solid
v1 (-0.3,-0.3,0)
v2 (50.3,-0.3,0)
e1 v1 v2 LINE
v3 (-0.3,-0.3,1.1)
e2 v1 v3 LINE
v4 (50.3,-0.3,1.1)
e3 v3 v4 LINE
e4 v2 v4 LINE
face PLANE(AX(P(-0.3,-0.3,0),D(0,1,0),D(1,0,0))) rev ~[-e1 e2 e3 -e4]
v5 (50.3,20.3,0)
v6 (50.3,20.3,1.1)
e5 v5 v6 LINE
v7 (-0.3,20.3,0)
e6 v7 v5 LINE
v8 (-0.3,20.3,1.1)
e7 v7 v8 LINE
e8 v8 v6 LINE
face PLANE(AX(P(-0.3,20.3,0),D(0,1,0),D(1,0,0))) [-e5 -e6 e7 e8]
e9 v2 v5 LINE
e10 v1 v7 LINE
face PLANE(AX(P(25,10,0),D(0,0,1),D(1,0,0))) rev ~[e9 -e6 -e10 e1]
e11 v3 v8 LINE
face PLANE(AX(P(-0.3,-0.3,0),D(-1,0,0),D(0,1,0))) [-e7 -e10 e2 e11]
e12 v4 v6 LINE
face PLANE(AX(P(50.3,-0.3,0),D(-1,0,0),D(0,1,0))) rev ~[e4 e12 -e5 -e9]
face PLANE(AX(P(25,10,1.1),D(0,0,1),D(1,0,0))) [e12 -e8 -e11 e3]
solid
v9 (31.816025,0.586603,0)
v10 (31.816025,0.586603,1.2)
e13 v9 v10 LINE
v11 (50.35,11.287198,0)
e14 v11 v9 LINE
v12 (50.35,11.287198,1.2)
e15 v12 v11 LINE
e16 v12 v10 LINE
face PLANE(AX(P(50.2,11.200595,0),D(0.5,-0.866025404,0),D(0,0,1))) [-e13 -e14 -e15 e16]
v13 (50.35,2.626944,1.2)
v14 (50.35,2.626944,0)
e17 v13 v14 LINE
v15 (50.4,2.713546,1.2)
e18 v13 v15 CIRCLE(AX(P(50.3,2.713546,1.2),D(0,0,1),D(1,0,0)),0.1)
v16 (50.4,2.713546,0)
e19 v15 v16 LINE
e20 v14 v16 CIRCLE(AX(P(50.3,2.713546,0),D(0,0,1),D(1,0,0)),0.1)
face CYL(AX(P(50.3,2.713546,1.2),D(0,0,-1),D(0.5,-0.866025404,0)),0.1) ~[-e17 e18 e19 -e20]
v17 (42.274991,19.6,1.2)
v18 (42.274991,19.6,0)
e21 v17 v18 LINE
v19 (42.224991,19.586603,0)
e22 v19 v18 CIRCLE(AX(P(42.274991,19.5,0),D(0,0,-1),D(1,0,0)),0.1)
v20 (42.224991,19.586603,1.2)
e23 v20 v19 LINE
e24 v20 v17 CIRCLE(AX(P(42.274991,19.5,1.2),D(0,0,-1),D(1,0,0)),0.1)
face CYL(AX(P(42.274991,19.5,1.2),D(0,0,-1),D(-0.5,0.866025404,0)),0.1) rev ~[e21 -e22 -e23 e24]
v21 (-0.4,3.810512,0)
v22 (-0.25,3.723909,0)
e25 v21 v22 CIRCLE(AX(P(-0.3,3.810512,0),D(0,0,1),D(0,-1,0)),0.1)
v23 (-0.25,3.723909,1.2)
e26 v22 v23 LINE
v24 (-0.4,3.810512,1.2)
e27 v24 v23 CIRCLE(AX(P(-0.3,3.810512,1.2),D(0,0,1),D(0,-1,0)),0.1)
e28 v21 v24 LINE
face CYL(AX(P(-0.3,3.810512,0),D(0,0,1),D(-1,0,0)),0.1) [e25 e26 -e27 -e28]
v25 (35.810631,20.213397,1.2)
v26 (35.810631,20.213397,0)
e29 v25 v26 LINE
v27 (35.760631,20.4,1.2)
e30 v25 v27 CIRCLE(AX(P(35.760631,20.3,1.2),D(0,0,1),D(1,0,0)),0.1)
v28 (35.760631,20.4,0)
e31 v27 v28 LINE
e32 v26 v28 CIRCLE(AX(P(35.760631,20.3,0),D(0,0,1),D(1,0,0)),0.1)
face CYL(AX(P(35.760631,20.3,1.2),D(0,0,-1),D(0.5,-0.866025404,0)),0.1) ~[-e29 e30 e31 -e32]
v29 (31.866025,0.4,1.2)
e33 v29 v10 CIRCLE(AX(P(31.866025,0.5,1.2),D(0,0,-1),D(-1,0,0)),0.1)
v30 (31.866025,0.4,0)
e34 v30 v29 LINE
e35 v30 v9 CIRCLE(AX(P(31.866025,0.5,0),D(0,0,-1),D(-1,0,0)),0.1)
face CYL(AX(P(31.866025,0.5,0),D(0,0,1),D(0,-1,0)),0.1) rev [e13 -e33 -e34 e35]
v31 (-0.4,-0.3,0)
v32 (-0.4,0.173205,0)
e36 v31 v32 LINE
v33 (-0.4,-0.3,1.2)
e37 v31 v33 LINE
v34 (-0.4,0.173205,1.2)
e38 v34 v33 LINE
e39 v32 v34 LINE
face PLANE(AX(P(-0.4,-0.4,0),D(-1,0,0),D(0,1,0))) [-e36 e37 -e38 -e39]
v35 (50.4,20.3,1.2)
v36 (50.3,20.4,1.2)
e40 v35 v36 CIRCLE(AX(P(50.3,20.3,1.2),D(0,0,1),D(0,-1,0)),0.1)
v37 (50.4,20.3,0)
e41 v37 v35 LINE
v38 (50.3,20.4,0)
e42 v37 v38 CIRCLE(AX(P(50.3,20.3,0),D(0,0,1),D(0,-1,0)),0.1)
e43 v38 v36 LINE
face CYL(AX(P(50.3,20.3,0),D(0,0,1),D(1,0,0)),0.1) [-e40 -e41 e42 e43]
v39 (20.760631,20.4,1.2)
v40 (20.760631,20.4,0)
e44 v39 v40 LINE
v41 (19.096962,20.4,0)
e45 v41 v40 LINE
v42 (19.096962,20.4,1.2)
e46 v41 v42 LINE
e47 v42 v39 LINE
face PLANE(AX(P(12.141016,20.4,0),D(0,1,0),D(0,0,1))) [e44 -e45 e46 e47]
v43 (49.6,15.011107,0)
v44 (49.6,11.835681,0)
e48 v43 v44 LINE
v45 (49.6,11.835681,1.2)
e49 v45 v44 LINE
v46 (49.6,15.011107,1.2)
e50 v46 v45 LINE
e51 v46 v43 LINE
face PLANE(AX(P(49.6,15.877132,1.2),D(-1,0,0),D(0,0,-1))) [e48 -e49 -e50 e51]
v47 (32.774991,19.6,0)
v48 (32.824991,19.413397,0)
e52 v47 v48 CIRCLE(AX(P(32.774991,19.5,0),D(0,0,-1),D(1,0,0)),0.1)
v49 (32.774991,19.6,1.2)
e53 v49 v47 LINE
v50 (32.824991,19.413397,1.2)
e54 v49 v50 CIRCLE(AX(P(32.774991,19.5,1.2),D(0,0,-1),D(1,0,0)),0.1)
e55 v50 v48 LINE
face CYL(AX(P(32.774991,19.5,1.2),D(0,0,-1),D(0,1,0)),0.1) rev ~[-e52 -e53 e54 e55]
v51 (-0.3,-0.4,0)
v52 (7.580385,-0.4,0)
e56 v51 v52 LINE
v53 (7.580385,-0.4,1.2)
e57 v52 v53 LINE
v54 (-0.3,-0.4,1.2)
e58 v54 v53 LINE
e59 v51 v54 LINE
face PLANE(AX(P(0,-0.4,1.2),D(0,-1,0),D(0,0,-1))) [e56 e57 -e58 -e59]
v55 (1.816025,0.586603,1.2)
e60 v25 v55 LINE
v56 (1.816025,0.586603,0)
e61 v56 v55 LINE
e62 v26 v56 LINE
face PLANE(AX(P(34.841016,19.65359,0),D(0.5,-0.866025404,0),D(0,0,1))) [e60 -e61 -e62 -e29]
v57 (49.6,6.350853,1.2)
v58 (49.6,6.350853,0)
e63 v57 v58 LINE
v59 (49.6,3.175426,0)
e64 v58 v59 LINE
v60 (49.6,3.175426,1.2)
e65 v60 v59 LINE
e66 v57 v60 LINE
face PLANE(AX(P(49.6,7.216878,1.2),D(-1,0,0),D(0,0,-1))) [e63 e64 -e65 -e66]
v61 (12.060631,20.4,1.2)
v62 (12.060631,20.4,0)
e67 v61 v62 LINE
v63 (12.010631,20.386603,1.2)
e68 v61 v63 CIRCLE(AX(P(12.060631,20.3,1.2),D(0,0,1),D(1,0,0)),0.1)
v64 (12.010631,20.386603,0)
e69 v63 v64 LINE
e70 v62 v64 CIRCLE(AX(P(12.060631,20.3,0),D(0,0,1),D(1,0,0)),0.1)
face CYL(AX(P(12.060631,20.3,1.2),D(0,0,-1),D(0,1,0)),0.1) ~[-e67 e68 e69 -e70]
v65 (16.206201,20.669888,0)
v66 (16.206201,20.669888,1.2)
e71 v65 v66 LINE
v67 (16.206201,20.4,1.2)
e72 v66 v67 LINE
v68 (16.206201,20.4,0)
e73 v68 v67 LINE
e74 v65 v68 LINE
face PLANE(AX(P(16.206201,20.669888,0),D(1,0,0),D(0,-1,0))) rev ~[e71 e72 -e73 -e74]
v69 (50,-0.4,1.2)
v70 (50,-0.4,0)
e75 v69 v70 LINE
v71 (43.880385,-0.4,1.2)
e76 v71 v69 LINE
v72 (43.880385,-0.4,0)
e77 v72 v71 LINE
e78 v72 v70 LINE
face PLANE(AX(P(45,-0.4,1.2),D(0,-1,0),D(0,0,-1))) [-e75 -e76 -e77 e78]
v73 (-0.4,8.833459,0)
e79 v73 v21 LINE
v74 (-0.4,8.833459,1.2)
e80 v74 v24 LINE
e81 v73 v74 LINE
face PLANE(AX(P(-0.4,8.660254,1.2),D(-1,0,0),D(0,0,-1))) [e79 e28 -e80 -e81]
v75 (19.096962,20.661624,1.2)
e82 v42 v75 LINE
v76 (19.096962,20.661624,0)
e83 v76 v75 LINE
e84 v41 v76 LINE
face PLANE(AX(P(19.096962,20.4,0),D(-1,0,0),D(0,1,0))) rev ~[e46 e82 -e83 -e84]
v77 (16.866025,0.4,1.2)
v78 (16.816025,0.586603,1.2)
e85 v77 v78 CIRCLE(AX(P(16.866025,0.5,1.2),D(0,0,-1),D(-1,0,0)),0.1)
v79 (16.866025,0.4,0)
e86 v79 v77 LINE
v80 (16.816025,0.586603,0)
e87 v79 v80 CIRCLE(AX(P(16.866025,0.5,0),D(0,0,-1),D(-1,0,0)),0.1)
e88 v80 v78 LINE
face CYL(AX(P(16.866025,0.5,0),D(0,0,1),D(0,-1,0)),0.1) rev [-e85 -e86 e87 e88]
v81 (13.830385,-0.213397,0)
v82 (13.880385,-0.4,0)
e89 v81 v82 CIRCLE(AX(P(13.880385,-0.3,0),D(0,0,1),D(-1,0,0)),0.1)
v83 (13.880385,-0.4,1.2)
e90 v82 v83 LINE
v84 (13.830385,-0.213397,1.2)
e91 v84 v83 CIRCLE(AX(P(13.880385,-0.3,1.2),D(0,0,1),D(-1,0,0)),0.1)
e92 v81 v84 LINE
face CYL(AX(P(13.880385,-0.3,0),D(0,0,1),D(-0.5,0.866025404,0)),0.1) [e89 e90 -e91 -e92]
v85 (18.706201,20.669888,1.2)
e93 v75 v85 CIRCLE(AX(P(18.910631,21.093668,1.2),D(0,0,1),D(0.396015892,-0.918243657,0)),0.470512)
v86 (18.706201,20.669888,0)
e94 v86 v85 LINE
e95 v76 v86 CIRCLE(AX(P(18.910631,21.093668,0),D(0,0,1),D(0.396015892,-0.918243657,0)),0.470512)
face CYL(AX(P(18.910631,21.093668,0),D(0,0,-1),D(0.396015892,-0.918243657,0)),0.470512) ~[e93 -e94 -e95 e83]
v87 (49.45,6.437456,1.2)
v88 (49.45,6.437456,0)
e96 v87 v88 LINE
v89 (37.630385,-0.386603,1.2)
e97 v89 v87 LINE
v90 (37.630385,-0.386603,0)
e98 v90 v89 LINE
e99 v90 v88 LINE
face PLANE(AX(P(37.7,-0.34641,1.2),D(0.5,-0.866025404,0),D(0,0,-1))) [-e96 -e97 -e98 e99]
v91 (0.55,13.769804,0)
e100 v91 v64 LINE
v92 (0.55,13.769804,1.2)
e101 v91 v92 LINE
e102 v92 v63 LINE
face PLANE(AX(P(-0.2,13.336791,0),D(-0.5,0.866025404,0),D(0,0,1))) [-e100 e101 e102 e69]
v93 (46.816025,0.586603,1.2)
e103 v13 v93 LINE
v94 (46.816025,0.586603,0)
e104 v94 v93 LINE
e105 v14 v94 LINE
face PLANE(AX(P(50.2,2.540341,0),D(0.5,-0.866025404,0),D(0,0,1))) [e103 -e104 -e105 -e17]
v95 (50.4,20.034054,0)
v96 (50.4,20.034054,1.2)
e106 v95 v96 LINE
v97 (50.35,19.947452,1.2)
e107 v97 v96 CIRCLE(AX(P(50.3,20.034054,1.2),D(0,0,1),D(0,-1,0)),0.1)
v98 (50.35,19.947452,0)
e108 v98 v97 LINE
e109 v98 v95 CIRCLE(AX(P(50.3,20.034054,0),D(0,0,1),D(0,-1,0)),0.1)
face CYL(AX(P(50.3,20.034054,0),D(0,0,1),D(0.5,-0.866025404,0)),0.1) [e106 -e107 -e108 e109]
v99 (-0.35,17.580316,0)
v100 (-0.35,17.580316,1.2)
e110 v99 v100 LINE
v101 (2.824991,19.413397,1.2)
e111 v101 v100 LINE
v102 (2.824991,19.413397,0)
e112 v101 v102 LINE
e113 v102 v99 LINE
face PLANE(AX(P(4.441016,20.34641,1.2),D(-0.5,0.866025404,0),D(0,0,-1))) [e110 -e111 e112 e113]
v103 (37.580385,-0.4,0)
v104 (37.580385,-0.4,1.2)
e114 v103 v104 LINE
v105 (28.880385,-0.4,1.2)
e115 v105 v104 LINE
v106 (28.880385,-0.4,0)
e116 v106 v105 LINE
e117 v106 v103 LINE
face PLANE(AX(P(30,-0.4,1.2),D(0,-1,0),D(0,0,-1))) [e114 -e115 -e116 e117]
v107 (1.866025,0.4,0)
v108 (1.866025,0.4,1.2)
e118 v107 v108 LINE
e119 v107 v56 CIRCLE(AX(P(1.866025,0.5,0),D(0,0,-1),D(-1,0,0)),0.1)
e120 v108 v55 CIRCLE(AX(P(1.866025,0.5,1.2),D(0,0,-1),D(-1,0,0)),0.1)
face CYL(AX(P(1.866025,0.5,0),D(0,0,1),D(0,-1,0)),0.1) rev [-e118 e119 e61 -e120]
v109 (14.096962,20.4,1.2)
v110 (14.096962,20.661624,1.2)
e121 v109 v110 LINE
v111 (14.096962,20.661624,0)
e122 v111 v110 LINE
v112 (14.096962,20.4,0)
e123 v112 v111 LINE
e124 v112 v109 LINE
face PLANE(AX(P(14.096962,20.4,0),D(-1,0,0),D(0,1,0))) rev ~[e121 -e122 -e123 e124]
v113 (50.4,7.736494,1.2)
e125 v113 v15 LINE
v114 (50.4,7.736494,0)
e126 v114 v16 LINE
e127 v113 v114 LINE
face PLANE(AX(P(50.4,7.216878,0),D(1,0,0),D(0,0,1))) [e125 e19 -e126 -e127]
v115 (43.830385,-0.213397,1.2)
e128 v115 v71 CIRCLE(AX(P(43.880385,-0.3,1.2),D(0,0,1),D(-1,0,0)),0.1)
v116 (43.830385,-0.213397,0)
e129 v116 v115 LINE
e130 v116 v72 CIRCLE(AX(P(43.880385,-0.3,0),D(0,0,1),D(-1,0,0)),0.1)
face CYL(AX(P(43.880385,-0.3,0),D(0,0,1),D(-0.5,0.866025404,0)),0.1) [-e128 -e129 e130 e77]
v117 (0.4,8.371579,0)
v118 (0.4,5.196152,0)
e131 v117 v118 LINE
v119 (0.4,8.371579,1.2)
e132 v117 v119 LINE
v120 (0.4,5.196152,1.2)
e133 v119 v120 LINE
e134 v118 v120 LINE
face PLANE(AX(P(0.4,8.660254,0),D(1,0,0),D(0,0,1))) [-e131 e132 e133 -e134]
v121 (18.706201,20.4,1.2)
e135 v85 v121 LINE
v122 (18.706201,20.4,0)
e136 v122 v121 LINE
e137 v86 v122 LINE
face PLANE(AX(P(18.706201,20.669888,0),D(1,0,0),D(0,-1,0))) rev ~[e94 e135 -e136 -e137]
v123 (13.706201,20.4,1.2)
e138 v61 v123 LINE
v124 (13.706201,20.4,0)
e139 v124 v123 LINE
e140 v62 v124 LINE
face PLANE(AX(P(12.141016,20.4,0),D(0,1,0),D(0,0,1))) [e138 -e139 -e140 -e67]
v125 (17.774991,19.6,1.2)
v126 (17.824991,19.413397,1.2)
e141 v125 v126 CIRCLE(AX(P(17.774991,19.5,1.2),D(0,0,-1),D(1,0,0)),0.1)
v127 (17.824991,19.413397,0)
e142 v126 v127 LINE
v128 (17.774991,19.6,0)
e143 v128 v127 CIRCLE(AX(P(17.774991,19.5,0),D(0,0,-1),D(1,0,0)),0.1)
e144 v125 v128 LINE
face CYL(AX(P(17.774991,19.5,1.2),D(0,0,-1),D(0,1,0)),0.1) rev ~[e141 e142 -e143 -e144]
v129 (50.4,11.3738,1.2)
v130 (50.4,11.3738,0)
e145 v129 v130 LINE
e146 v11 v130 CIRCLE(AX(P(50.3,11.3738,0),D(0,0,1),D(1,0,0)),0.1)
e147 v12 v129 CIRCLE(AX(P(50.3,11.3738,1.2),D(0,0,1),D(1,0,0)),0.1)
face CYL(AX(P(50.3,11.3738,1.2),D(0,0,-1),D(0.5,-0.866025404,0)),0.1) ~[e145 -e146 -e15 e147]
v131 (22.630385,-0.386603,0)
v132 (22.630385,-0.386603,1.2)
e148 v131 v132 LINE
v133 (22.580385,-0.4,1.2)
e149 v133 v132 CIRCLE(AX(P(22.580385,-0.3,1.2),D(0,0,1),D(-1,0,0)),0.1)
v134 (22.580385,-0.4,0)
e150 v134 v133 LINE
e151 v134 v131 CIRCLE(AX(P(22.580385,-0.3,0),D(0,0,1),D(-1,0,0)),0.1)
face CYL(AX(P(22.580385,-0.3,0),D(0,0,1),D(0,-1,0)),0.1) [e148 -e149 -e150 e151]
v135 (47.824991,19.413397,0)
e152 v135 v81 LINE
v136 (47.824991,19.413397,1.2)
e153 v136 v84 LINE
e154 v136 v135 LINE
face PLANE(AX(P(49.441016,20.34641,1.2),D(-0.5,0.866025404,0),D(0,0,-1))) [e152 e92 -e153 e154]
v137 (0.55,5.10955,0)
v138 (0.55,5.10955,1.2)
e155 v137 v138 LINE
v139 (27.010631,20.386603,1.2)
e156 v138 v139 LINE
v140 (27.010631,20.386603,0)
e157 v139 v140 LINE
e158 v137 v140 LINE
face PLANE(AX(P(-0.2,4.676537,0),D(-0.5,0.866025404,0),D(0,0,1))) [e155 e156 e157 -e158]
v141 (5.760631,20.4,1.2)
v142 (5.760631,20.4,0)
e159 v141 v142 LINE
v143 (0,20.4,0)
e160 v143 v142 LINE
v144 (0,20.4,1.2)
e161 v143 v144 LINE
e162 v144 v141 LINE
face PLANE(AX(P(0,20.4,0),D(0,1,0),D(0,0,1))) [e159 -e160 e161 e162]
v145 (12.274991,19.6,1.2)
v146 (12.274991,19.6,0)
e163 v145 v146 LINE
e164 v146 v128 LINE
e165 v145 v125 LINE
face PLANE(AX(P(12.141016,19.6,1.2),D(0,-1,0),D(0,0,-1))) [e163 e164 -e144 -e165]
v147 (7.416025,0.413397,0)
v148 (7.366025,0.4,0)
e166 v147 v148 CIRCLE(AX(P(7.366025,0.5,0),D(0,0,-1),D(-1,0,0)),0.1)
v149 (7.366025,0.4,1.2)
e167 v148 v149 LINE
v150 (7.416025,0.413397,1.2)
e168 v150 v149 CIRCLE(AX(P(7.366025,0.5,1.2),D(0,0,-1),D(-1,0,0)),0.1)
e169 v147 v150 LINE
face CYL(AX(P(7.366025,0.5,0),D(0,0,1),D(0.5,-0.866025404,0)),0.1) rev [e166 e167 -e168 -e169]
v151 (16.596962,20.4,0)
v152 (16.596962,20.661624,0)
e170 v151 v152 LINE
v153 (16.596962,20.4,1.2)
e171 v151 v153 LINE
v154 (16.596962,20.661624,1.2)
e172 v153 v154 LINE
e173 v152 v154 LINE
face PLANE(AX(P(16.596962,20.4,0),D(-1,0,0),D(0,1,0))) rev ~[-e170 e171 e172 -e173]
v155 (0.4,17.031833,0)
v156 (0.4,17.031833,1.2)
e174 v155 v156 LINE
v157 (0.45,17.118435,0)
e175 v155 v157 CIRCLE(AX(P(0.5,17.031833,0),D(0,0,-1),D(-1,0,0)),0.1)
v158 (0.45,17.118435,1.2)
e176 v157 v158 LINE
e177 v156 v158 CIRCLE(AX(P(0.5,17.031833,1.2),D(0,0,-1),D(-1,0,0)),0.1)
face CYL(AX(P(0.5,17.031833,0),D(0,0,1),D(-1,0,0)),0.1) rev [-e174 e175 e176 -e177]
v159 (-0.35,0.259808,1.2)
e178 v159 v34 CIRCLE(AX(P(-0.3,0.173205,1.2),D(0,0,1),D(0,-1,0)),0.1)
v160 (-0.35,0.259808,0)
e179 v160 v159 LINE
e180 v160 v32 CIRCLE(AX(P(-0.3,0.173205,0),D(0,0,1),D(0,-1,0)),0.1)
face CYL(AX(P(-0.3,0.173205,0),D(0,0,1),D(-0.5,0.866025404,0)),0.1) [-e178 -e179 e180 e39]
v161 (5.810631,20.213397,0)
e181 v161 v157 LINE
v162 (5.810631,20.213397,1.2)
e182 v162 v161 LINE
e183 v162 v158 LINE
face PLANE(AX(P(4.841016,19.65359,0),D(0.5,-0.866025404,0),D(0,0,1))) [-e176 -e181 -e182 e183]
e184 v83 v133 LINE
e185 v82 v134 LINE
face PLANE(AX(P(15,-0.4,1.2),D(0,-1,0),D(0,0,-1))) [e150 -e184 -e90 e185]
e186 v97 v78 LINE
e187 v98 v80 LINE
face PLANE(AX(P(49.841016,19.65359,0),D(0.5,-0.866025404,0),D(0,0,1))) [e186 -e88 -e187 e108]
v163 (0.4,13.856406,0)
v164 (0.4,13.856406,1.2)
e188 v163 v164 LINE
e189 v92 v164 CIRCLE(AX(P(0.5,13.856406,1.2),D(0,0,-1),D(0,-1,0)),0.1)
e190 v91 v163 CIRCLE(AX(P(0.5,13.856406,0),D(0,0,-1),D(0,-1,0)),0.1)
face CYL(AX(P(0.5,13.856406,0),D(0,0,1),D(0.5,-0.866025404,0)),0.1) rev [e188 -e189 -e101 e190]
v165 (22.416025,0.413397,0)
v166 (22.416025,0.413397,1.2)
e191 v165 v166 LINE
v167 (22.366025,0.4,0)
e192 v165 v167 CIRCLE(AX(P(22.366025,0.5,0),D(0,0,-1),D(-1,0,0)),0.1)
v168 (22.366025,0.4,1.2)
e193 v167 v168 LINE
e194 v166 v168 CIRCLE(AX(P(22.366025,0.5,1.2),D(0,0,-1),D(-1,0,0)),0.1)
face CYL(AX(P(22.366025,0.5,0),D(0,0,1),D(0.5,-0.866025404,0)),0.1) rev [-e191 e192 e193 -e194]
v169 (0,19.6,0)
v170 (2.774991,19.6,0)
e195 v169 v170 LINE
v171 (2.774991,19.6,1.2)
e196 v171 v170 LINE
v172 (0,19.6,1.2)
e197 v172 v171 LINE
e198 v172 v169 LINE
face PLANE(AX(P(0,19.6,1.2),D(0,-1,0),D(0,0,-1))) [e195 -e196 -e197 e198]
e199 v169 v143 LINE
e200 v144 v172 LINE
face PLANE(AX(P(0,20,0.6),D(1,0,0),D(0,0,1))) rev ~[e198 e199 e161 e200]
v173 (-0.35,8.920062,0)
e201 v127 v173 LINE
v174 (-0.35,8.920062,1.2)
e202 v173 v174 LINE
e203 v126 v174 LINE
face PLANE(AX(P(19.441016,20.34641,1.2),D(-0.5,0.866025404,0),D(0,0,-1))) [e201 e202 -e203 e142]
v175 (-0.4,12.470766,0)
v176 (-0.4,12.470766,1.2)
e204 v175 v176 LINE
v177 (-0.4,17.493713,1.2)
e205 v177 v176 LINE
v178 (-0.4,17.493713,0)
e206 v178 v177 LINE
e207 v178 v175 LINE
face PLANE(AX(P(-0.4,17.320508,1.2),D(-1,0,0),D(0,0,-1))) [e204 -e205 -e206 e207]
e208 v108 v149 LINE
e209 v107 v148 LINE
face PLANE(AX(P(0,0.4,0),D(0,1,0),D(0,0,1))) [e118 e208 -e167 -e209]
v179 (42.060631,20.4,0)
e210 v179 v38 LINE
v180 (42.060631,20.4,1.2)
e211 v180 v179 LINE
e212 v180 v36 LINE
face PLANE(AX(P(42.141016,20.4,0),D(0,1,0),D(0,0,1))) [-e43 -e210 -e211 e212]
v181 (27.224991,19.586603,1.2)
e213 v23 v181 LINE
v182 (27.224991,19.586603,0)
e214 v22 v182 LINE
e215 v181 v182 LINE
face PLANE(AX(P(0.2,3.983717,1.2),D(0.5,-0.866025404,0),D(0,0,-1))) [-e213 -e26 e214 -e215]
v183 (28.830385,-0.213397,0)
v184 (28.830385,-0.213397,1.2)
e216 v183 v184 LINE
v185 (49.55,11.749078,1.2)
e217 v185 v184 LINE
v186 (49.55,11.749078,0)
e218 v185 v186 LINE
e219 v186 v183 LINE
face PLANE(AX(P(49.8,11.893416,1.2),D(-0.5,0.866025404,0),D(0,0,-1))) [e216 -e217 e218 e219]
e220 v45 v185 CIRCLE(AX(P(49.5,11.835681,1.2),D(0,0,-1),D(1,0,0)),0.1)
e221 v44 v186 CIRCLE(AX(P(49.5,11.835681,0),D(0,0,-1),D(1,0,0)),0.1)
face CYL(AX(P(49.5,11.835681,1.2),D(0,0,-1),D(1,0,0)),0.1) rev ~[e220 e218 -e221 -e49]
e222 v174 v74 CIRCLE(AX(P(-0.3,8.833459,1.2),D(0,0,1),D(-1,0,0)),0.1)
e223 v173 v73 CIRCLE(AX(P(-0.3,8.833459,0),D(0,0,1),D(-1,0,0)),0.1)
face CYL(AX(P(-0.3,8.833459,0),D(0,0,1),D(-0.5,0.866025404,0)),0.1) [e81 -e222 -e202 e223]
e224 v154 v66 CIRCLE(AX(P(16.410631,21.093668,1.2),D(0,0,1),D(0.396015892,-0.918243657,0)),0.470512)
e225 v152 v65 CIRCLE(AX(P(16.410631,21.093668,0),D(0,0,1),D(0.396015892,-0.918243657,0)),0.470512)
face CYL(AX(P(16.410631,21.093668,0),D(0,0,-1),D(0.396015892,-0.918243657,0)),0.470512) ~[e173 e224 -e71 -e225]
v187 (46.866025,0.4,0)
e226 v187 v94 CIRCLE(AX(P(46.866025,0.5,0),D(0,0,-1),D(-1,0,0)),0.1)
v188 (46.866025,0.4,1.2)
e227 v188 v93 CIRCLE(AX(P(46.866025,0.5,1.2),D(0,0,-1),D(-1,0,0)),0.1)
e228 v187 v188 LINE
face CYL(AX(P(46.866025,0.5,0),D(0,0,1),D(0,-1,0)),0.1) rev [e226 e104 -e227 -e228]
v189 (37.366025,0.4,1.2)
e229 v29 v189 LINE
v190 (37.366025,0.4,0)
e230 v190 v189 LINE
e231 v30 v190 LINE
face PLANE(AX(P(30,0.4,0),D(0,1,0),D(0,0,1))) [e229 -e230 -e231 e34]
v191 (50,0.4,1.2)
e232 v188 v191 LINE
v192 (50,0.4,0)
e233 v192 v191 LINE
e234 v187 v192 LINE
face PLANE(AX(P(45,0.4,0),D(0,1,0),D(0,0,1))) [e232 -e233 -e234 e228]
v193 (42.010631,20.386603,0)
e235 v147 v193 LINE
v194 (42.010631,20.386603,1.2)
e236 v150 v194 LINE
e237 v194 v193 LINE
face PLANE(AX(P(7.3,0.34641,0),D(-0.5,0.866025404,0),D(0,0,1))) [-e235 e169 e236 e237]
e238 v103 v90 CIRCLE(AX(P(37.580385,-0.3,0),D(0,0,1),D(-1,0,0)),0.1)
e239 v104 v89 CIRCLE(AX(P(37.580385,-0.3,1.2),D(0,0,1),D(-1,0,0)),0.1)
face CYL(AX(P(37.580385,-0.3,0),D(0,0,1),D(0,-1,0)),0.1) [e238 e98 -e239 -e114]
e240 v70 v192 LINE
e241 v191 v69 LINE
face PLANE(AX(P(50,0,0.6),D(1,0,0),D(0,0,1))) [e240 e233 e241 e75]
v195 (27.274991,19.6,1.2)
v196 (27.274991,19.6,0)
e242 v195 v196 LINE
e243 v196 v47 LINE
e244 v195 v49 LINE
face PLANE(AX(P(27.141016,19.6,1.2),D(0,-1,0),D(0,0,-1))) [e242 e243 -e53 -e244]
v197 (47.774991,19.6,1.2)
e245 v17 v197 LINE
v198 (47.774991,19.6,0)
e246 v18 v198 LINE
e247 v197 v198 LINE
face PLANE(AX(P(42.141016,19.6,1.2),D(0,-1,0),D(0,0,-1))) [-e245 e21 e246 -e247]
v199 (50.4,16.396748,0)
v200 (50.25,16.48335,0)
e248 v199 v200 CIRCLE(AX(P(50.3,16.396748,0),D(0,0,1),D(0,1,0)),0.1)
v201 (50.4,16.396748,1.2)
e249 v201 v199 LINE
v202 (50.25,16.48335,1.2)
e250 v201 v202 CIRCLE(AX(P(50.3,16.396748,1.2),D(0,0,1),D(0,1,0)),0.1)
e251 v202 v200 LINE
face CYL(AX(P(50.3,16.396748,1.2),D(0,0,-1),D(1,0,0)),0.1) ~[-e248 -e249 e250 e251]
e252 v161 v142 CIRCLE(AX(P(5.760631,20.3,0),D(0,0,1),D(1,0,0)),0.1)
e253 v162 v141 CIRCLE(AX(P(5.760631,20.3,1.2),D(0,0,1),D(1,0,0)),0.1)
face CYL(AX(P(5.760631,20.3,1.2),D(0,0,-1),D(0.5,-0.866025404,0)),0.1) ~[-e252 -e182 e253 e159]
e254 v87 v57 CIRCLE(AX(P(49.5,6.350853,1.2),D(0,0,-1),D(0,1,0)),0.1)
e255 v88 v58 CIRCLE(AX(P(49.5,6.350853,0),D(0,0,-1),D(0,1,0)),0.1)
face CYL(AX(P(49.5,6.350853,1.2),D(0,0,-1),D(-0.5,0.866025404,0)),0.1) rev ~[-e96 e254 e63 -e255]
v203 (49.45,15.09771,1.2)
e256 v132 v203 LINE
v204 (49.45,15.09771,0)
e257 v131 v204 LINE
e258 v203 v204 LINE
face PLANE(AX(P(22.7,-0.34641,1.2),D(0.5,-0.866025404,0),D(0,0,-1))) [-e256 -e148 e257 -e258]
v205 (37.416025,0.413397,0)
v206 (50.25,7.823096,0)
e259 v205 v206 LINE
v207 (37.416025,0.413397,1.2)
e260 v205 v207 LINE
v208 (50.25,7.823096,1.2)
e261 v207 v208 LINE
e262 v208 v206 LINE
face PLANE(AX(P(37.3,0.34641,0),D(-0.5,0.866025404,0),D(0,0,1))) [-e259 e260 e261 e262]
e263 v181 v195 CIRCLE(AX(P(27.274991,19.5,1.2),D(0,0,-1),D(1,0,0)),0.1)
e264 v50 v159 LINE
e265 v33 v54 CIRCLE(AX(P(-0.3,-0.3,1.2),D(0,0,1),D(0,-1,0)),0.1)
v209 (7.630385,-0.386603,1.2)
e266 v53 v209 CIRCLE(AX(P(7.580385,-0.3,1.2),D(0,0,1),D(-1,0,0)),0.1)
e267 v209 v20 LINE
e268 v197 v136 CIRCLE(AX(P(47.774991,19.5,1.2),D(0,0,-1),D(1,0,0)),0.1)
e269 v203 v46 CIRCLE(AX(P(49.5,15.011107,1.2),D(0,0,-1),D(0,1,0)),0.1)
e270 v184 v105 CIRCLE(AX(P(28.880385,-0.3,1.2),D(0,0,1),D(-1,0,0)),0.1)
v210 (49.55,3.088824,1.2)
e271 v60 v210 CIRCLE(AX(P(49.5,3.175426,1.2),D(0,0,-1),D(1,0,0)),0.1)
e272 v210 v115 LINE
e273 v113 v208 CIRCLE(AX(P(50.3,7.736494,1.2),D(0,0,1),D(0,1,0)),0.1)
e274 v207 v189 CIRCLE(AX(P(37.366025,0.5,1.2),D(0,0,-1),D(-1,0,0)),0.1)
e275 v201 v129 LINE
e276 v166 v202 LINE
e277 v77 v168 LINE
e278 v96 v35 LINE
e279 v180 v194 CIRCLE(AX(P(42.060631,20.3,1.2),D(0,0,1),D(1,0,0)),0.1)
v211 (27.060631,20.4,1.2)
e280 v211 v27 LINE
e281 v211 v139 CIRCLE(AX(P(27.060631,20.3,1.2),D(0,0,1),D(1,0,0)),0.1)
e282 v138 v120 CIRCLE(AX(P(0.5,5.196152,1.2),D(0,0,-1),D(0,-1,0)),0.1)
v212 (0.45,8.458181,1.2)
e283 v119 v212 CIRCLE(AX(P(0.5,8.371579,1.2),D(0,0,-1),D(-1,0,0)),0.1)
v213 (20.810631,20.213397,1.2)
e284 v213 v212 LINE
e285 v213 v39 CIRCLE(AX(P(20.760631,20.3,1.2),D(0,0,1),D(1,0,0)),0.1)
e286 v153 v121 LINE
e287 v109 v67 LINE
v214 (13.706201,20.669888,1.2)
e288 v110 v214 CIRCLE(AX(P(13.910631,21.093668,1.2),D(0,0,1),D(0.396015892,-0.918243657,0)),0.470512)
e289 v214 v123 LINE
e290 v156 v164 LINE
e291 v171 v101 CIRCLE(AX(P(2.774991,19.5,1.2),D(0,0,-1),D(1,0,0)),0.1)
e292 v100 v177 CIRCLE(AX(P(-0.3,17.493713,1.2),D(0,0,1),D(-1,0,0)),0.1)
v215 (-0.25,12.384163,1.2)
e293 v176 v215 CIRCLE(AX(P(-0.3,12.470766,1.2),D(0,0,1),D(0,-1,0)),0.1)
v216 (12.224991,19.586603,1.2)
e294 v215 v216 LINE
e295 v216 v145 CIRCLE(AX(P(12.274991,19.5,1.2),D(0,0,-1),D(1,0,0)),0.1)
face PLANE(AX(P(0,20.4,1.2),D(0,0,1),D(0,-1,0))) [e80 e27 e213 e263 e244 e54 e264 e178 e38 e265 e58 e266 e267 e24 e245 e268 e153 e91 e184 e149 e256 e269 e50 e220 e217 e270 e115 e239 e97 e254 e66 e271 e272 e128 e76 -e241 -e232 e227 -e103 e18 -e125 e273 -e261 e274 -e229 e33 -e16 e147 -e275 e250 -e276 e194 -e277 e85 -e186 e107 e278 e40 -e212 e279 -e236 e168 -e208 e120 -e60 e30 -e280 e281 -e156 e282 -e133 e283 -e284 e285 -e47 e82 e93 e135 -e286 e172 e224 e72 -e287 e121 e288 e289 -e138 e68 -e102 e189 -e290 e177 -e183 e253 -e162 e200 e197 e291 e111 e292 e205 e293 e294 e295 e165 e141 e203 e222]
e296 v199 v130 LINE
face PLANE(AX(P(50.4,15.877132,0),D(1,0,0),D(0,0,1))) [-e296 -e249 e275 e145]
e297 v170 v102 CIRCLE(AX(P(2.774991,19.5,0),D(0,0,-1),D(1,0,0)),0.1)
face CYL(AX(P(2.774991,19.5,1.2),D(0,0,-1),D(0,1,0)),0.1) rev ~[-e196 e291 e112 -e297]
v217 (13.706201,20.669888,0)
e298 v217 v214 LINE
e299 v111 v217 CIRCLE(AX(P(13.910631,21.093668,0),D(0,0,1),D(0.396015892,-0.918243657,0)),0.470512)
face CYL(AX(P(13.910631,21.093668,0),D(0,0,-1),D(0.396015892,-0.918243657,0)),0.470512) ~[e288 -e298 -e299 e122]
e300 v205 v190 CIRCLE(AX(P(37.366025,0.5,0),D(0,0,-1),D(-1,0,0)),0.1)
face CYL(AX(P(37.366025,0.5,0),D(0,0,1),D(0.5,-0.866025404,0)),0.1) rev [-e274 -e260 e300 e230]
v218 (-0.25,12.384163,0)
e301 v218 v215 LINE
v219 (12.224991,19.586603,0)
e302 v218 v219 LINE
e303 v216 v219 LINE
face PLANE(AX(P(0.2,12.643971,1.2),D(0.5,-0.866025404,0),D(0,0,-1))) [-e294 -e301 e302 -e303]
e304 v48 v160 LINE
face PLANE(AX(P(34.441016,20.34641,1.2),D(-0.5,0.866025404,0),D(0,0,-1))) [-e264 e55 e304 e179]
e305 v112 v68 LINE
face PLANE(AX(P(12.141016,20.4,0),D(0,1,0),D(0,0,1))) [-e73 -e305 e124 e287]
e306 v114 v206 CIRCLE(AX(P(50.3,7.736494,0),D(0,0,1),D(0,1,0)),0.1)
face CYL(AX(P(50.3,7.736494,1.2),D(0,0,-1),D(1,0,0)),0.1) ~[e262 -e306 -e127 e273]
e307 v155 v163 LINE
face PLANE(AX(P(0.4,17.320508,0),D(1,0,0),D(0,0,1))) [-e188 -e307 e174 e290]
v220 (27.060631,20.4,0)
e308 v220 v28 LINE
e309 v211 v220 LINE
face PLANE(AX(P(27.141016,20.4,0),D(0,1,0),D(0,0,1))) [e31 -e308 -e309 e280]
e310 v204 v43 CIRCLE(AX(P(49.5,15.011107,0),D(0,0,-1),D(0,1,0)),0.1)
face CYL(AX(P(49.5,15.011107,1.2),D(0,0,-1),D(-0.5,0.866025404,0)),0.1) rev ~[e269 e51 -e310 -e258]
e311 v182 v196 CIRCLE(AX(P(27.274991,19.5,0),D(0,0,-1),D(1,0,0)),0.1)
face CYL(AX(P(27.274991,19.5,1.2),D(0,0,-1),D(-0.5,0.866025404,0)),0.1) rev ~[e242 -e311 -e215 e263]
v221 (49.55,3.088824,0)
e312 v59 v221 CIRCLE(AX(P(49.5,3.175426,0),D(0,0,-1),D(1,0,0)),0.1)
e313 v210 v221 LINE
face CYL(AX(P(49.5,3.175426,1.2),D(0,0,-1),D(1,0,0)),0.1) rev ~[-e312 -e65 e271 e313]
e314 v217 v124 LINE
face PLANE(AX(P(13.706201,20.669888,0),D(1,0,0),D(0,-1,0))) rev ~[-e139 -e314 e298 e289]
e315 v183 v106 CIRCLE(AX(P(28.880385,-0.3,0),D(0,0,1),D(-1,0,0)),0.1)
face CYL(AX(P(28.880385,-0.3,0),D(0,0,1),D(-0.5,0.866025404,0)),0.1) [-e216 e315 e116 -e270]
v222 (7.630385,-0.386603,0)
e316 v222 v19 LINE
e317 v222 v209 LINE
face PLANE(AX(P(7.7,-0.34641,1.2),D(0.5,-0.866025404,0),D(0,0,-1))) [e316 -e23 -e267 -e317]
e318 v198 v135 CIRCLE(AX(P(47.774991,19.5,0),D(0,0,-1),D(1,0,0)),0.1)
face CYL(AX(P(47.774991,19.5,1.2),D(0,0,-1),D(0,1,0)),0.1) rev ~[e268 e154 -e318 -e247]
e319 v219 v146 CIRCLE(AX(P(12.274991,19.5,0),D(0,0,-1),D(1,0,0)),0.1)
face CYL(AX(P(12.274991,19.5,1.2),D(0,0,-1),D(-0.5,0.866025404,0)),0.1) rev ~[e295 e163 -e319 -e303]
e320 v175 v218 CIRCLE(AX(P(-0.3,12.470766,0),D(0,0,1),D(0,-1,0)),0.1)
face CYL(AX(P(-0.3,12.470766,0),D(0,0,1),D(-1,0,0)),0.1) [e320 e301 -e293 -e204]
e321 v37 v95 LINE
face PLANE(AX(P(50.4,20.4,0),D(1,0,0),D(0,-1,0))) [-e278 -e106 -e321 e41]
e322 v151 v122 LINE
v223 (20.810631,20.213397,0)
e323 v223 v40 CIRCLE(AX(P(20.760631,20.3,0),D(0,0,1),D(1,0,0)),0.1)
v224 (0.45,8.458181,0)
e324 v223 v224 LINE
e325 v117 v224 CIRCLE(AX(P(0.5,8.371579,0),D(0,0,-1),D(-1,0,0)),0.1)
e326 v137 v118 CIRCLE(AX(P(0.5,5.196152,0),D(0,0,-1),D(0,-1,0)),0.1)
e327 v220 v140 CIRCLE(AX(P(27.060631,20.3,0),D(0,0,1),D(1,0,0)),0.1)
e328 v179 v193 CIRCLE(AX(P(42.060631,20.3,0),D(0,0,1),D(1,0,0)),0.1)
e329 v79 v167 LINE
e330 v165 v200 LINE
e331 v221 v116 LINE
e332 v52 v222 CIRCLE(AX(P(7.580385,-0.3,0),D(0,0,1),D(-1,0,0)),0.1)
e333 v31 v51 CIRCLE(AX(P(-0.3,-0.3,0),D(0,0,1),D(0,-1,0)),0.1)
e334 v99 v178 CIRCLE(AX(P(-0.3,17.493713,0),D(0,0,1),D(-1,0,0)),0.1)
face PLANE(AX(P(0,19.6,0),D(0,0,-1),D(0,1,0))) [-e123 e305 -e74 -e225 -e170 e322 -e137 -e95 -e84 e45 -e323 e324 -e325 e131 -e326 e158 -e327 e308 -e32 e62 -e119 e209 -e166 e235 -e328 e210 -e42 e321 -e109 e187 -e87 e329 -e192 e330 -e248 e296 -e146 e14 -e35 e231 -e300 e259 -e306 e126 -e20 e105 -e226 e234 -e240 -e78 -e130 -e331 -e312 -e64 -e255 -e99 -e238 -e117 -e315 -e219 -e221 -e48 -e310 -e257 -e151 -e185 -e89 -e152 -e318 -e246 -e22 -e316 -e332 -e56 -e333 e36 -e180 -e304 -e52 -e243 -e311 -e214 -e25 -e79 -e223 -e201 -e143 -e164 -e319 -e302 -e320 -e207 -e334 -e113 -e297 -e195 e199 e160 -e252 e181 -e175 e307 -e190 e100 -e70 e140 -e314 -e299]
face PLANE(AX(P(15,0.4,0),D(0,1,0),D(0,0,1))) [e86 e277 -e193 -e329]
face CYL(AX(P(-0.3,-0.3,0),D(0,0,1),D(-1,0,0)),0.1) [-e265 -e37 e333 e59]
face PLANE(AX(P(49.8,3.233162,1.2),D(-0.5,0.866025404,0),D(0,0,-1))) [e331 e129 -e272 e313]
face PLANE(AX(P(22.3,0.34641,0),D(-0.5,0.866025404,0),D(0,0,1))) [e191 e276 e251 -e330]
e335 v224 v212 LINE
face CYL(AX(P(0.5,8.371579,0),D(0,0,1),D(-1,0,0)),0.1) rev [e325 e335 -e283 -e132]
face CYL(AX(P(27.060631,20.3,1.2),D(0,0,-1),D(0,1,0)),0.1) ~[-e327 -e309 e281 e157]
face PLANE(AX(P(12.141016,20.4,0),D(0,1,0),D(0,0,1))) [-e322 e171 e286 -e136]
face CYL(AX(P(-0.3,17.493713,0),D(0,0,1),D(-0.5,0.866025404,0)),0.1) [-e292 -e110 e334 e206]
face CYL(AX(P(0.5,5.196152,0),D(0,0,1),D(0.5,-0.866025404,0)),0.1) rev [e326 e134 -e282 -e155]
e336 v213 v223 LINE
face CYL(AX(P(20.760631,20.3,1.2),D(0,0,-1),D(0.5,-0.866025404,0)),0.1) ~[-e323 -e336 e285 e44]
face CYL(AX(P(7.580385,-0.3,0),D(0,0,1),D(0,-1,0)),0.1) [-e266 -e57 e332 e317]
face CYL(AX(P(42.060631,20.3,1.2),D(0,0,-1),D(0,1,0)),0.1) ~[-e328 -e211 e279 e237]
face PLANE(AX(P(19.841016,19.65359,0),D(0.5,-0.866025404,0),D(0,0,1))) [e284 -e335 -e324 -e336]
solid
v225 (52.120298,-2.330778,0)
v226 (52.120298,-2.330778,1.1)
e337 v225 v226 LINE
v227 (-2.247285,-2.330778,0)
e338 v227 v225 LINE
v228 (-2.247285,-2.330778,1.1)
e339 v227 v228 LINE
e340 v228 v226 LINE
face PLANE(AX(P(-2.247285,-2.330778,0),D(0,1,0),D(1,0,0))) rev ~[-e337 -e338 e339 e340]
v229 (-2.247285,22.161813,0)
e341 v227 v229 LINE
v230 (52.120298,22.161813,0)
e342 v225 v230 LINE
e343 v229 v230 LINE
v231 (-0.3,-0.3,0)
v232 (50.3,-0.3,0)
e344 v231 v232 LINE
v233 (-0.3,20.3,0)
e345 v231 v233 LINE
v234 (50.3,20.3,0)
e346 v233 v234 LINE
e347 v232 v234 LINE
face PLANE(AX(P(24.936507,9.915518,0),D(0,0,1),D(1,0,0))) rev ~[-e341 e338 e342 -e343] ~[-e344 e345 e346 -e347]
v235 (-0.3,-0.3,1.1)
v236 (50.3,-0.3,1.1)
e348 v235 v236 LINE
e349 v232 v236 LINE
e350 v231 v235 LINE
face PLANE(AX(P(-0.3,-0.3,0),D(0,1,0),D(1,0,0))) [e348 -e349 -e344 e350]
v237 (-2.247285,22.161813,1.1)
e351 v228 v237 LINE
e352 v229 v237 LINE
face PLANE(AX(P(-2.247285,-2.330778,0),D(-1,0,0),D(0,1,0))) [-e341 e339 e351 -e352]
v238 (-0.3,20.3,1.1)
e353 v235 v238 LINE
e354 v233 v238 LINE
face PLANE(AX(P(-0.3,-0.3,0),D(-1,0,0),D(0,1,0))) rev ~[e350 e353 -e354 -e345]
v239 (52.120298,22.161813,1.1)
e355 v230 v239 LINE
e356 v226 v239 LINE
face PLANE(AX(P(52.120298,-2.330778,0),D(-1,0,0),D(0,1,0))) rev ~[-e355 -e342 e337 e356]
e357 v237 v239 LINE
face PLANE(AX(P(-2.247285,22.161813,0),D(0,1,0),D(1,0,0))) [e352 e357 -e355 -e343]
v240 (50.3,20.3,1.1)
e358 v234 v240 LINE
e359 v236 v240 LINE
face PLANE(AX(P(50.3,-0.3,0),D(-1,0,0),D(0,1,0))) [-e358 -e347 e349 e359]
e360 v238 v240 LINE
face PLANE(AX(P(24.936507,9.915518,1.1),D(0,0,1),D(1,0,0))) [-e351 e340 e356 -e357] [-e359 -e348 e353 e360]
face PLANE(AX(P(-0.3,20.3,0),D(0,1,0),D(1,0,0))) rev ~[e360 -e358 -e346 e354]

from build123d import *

# Parameters (mm, degrees)
F5_W      = 62.8235205077
F5_H      = 37.2700802982
F6_DEPTH  = 25
F8_W      = 50.6
F8_H      = 20.6
F9_DEPTH  = 1.1
F10_R     = 0.1
F12_DEPTH = 1.2
F13_W     = 54.367583245
F13_H     = 24.4925916195
F13_W_2   = 50.6
F13_H_2   = 20.6
F14_DEPTH = 1.1


with BuildPart() as f4:
    # F4: sweep along a path in F1
    with BuildLine(Plane.XY) as f4_path:
        Line((0, 20), (4.6410161514, 20))
        Line((4.6410161514, 20), (0, 17.3205080757))
        Line((0, 17.3205080757), (0, 12.9903810568))
        Line((0, 12.9903810568), (12.1410161514, 20))
        Line((12.1410161514, 20), (19.6410161514, 20))
        Line((19.6410161514, 20), (0, 8.6602540378))
        Line((0, 8.6602540378), (0, 4.3301270189))
        Line((0, 4.3301270189), (27.1410161514, 20))
        Line((27.1410161514, 20), (34.6410161514, 20))
        Line((34.6410161514, 20), (0, 0))
        Line((0, 0), (7.5, 0))
        Line((7.5, 0), (42.1410161514, 20))
        Line((42.1410161514, 20), (49.6410161514, 20))
        Line((49.6410161514, 20), (15, 0))
        Line((15, 0), (22.5, 0))
        Line((22.5, 0), (50, 15.8771324027))
        Line((50, 15.8771324027), (50, 11.5470053838))
        Line((50, 11.5470053838), (30, 0))
        Line((30, 0), (37.5, 0))
        Line((37.5, 0), (50, 7.2168783649))
        Line((50, 7.2168783649), (50, 2.8867513459))
        Line((50, 2.8867513459), (45, 0))
        Line((45, 0), (50, 0))
    # F3 (on line) → F4 (sweep)
    with BuildSketch(Plane.YZ):
        Polygon((19.6, 0), (20, 0), (20.4, 0), (20.4, 1.2), (20, 1.2), (19.6, 1.2), align=None)
    sweep(path=f4_path.line, transition=Transition.RIGHT)


with BuildPart() as f6:
    # F5 (on Top) → F6 (new body)
    with BuildSketch(Plane.XY):
        with Locations((25.02031927, 9.5404535532)):
            Rectangle(F5_W, F5_H)
        Polygon((-0.4, 3.6373066959), (-0.4, 8.8911941455), (-0.4, 20.4), (0, 20.4), (6.1338364744, 20.4), (50.4, 20.4), (50.4, 16.5699527257), (50.4, 11.3160652761), (50.4, -0.4), (37.607179677, -0.4), (28.507179677, -0.4), (-0.4, -0.4), align=None, mode=Mode.SUBTRACT)
    extrude(amount=F6_DEPTH)


with BuildPart() as f4_1:
    add(f4.part)

    # F7: cut F6
    add(f6.part, mode=Mode.SUBTRACT)

    # F10
    f10_edges = [f4_1.edges().sort_by_distance(p)[0] for p in [
        (-0.4, 17.551448, 0.6),
        (3.148196, 19.6, 0.6),
        (6.133836, 20.4, 0.6),
        (0.4, 17.089568, 0.6),
        (0.4, 13.683201, 0.6),
        (-0.4, 12.297561, 0.6),
        (12.248196, 19.6, 0.6),
        (12.033836, 20.4, 0.6),
        (18.148196, 19.6, 0.6),
        (21.133836, 20.4, 0.6),
        (27.033836, 20.4, 0.6),
        (-0.4, 8.891194, 0.6),
        (0.4, 8.429314, 0.6),
        (0.4, 5.022947, 0.6),
        (-0.4, 3.637307, 0.6),
        (27.248196, 19.6, 0.6),
        (33.148196, 19.6, 0.6),
        (36.133836, 20.4, 0.6),
        (42.033836, 20.4, 0.6),
        (-0.4, 0.23094, 0.6),
        (1.49282, 0.4, 0.6),
        (-0.4, -0.4, 0.6),
        (7.39282, 0.4, 0.6),
        (7.60718, -0.4, 0.6),
        (42.248196, 19.6, 0.6),
        (48.148196, 19.6, 0.6),
        (50.4, 20.4, 0.6),
        (50.4, 19.976319, 0.6),
        (50.4, 16.569953, 0.6),
        (49.6, 15.184312, 0.6),
        (49.6, 11.777945, 0.6),
        (50.4, 11.316065, 0.6),
        (28.50718, -0.4, 0.6),
        (31.49282, 0.4, 0.6),
        (22.60718, -0.4, 0.6),
        (13.50718, -0.4, 0.6),
        (16.49282, 0.4, 0.6),
        (37.39282, 0.4, 0.6),
        (22.39282, 0.4, 0.6),
        (50.4, 7.909699, 0.6),
        (49.6, 6.524058, 0.6),
        (37.60718, -0.4, 0.6),
        (43.50718, -0.4, 0.6),
        (50.4, 2.655811, 0.6),
        (46.49282, 0.4, 0.6),
        (49.6, 3.117691, 0.6),
    ]]
    fillet(f10_edges, radius=F10_R)

    # F11 (on Top) → F12 (join, through all)
    with BuildSketch(Plane.XY):
        with BuildLine():
            Line((16.5969616764, 20.4), (16.5969616764, 20.6616236331))
            ThreePointArc((16.5969616764, 20.6616236331), (16.4205801226, 21.5640753587), (16.2062010934, 20.6698879056))
            Line((16.2062010934, 20.6698879056), (16.2062010934, 20.4))
            Line((16.2062010934, 20.4), (16.5969616764, 20.4))
        make_face()
        with BuildLine():
            Line((19.0969616764, 20.4), (19.0969616764, 20.6616236331))
            ThreePointArc((19.0969616764, 20.6616236331), (18.9205801226, 21.5640753587), (18.7062010934, 20.6698879056))
            Line((18.7062010934, 20.6698879056), (18.7062010934, 20.4))
            Line((18.7062010934, 20.4), (19.0969616764, 20.4))
        make_face()
        with BuildLine():
            Line((14.0969616764, 20.4), (14.0969616764, 20.6616236331))
            ThreePointArc((14.0969616764, 20.6616236331), (13.9205801226, 21.5640753587), (13.7062010934, 20.6698879056))
            Line((13.7062010934, 20.6698879056), (13.7062010934, 20.4))
            Line((13.7062010934, 20.4), (14.0969616764, 20.4))
        make_face()
    extrude(amount=F12_DEPTH)


with BuildPart() as f9:
    # F8 (on Top) → F9 (new body)
    with BuildSketch(Plane.XY):
        with Locations((25, 10)):
            Rectangle(F8_W, F8_H)
    extrude(amount=F9_DEPTH)


with BuildPart() as f14:
    # F13 (on Top) → F14 (new body, through all)
    with BuildSketch(Plane.XY):
        with Locations((24.9365065247, 9.9155176431)):
            Rectangle(F13_W, F13_H)
        with Locations((25, 10)):
            Rectangle(F13_W_2, F13_H_2, mode=Mode.SUBTRACT)
    extrude(amount=F14_DEPTH)


solid = Compound([f4_1.part, f9.part, f14.part])
